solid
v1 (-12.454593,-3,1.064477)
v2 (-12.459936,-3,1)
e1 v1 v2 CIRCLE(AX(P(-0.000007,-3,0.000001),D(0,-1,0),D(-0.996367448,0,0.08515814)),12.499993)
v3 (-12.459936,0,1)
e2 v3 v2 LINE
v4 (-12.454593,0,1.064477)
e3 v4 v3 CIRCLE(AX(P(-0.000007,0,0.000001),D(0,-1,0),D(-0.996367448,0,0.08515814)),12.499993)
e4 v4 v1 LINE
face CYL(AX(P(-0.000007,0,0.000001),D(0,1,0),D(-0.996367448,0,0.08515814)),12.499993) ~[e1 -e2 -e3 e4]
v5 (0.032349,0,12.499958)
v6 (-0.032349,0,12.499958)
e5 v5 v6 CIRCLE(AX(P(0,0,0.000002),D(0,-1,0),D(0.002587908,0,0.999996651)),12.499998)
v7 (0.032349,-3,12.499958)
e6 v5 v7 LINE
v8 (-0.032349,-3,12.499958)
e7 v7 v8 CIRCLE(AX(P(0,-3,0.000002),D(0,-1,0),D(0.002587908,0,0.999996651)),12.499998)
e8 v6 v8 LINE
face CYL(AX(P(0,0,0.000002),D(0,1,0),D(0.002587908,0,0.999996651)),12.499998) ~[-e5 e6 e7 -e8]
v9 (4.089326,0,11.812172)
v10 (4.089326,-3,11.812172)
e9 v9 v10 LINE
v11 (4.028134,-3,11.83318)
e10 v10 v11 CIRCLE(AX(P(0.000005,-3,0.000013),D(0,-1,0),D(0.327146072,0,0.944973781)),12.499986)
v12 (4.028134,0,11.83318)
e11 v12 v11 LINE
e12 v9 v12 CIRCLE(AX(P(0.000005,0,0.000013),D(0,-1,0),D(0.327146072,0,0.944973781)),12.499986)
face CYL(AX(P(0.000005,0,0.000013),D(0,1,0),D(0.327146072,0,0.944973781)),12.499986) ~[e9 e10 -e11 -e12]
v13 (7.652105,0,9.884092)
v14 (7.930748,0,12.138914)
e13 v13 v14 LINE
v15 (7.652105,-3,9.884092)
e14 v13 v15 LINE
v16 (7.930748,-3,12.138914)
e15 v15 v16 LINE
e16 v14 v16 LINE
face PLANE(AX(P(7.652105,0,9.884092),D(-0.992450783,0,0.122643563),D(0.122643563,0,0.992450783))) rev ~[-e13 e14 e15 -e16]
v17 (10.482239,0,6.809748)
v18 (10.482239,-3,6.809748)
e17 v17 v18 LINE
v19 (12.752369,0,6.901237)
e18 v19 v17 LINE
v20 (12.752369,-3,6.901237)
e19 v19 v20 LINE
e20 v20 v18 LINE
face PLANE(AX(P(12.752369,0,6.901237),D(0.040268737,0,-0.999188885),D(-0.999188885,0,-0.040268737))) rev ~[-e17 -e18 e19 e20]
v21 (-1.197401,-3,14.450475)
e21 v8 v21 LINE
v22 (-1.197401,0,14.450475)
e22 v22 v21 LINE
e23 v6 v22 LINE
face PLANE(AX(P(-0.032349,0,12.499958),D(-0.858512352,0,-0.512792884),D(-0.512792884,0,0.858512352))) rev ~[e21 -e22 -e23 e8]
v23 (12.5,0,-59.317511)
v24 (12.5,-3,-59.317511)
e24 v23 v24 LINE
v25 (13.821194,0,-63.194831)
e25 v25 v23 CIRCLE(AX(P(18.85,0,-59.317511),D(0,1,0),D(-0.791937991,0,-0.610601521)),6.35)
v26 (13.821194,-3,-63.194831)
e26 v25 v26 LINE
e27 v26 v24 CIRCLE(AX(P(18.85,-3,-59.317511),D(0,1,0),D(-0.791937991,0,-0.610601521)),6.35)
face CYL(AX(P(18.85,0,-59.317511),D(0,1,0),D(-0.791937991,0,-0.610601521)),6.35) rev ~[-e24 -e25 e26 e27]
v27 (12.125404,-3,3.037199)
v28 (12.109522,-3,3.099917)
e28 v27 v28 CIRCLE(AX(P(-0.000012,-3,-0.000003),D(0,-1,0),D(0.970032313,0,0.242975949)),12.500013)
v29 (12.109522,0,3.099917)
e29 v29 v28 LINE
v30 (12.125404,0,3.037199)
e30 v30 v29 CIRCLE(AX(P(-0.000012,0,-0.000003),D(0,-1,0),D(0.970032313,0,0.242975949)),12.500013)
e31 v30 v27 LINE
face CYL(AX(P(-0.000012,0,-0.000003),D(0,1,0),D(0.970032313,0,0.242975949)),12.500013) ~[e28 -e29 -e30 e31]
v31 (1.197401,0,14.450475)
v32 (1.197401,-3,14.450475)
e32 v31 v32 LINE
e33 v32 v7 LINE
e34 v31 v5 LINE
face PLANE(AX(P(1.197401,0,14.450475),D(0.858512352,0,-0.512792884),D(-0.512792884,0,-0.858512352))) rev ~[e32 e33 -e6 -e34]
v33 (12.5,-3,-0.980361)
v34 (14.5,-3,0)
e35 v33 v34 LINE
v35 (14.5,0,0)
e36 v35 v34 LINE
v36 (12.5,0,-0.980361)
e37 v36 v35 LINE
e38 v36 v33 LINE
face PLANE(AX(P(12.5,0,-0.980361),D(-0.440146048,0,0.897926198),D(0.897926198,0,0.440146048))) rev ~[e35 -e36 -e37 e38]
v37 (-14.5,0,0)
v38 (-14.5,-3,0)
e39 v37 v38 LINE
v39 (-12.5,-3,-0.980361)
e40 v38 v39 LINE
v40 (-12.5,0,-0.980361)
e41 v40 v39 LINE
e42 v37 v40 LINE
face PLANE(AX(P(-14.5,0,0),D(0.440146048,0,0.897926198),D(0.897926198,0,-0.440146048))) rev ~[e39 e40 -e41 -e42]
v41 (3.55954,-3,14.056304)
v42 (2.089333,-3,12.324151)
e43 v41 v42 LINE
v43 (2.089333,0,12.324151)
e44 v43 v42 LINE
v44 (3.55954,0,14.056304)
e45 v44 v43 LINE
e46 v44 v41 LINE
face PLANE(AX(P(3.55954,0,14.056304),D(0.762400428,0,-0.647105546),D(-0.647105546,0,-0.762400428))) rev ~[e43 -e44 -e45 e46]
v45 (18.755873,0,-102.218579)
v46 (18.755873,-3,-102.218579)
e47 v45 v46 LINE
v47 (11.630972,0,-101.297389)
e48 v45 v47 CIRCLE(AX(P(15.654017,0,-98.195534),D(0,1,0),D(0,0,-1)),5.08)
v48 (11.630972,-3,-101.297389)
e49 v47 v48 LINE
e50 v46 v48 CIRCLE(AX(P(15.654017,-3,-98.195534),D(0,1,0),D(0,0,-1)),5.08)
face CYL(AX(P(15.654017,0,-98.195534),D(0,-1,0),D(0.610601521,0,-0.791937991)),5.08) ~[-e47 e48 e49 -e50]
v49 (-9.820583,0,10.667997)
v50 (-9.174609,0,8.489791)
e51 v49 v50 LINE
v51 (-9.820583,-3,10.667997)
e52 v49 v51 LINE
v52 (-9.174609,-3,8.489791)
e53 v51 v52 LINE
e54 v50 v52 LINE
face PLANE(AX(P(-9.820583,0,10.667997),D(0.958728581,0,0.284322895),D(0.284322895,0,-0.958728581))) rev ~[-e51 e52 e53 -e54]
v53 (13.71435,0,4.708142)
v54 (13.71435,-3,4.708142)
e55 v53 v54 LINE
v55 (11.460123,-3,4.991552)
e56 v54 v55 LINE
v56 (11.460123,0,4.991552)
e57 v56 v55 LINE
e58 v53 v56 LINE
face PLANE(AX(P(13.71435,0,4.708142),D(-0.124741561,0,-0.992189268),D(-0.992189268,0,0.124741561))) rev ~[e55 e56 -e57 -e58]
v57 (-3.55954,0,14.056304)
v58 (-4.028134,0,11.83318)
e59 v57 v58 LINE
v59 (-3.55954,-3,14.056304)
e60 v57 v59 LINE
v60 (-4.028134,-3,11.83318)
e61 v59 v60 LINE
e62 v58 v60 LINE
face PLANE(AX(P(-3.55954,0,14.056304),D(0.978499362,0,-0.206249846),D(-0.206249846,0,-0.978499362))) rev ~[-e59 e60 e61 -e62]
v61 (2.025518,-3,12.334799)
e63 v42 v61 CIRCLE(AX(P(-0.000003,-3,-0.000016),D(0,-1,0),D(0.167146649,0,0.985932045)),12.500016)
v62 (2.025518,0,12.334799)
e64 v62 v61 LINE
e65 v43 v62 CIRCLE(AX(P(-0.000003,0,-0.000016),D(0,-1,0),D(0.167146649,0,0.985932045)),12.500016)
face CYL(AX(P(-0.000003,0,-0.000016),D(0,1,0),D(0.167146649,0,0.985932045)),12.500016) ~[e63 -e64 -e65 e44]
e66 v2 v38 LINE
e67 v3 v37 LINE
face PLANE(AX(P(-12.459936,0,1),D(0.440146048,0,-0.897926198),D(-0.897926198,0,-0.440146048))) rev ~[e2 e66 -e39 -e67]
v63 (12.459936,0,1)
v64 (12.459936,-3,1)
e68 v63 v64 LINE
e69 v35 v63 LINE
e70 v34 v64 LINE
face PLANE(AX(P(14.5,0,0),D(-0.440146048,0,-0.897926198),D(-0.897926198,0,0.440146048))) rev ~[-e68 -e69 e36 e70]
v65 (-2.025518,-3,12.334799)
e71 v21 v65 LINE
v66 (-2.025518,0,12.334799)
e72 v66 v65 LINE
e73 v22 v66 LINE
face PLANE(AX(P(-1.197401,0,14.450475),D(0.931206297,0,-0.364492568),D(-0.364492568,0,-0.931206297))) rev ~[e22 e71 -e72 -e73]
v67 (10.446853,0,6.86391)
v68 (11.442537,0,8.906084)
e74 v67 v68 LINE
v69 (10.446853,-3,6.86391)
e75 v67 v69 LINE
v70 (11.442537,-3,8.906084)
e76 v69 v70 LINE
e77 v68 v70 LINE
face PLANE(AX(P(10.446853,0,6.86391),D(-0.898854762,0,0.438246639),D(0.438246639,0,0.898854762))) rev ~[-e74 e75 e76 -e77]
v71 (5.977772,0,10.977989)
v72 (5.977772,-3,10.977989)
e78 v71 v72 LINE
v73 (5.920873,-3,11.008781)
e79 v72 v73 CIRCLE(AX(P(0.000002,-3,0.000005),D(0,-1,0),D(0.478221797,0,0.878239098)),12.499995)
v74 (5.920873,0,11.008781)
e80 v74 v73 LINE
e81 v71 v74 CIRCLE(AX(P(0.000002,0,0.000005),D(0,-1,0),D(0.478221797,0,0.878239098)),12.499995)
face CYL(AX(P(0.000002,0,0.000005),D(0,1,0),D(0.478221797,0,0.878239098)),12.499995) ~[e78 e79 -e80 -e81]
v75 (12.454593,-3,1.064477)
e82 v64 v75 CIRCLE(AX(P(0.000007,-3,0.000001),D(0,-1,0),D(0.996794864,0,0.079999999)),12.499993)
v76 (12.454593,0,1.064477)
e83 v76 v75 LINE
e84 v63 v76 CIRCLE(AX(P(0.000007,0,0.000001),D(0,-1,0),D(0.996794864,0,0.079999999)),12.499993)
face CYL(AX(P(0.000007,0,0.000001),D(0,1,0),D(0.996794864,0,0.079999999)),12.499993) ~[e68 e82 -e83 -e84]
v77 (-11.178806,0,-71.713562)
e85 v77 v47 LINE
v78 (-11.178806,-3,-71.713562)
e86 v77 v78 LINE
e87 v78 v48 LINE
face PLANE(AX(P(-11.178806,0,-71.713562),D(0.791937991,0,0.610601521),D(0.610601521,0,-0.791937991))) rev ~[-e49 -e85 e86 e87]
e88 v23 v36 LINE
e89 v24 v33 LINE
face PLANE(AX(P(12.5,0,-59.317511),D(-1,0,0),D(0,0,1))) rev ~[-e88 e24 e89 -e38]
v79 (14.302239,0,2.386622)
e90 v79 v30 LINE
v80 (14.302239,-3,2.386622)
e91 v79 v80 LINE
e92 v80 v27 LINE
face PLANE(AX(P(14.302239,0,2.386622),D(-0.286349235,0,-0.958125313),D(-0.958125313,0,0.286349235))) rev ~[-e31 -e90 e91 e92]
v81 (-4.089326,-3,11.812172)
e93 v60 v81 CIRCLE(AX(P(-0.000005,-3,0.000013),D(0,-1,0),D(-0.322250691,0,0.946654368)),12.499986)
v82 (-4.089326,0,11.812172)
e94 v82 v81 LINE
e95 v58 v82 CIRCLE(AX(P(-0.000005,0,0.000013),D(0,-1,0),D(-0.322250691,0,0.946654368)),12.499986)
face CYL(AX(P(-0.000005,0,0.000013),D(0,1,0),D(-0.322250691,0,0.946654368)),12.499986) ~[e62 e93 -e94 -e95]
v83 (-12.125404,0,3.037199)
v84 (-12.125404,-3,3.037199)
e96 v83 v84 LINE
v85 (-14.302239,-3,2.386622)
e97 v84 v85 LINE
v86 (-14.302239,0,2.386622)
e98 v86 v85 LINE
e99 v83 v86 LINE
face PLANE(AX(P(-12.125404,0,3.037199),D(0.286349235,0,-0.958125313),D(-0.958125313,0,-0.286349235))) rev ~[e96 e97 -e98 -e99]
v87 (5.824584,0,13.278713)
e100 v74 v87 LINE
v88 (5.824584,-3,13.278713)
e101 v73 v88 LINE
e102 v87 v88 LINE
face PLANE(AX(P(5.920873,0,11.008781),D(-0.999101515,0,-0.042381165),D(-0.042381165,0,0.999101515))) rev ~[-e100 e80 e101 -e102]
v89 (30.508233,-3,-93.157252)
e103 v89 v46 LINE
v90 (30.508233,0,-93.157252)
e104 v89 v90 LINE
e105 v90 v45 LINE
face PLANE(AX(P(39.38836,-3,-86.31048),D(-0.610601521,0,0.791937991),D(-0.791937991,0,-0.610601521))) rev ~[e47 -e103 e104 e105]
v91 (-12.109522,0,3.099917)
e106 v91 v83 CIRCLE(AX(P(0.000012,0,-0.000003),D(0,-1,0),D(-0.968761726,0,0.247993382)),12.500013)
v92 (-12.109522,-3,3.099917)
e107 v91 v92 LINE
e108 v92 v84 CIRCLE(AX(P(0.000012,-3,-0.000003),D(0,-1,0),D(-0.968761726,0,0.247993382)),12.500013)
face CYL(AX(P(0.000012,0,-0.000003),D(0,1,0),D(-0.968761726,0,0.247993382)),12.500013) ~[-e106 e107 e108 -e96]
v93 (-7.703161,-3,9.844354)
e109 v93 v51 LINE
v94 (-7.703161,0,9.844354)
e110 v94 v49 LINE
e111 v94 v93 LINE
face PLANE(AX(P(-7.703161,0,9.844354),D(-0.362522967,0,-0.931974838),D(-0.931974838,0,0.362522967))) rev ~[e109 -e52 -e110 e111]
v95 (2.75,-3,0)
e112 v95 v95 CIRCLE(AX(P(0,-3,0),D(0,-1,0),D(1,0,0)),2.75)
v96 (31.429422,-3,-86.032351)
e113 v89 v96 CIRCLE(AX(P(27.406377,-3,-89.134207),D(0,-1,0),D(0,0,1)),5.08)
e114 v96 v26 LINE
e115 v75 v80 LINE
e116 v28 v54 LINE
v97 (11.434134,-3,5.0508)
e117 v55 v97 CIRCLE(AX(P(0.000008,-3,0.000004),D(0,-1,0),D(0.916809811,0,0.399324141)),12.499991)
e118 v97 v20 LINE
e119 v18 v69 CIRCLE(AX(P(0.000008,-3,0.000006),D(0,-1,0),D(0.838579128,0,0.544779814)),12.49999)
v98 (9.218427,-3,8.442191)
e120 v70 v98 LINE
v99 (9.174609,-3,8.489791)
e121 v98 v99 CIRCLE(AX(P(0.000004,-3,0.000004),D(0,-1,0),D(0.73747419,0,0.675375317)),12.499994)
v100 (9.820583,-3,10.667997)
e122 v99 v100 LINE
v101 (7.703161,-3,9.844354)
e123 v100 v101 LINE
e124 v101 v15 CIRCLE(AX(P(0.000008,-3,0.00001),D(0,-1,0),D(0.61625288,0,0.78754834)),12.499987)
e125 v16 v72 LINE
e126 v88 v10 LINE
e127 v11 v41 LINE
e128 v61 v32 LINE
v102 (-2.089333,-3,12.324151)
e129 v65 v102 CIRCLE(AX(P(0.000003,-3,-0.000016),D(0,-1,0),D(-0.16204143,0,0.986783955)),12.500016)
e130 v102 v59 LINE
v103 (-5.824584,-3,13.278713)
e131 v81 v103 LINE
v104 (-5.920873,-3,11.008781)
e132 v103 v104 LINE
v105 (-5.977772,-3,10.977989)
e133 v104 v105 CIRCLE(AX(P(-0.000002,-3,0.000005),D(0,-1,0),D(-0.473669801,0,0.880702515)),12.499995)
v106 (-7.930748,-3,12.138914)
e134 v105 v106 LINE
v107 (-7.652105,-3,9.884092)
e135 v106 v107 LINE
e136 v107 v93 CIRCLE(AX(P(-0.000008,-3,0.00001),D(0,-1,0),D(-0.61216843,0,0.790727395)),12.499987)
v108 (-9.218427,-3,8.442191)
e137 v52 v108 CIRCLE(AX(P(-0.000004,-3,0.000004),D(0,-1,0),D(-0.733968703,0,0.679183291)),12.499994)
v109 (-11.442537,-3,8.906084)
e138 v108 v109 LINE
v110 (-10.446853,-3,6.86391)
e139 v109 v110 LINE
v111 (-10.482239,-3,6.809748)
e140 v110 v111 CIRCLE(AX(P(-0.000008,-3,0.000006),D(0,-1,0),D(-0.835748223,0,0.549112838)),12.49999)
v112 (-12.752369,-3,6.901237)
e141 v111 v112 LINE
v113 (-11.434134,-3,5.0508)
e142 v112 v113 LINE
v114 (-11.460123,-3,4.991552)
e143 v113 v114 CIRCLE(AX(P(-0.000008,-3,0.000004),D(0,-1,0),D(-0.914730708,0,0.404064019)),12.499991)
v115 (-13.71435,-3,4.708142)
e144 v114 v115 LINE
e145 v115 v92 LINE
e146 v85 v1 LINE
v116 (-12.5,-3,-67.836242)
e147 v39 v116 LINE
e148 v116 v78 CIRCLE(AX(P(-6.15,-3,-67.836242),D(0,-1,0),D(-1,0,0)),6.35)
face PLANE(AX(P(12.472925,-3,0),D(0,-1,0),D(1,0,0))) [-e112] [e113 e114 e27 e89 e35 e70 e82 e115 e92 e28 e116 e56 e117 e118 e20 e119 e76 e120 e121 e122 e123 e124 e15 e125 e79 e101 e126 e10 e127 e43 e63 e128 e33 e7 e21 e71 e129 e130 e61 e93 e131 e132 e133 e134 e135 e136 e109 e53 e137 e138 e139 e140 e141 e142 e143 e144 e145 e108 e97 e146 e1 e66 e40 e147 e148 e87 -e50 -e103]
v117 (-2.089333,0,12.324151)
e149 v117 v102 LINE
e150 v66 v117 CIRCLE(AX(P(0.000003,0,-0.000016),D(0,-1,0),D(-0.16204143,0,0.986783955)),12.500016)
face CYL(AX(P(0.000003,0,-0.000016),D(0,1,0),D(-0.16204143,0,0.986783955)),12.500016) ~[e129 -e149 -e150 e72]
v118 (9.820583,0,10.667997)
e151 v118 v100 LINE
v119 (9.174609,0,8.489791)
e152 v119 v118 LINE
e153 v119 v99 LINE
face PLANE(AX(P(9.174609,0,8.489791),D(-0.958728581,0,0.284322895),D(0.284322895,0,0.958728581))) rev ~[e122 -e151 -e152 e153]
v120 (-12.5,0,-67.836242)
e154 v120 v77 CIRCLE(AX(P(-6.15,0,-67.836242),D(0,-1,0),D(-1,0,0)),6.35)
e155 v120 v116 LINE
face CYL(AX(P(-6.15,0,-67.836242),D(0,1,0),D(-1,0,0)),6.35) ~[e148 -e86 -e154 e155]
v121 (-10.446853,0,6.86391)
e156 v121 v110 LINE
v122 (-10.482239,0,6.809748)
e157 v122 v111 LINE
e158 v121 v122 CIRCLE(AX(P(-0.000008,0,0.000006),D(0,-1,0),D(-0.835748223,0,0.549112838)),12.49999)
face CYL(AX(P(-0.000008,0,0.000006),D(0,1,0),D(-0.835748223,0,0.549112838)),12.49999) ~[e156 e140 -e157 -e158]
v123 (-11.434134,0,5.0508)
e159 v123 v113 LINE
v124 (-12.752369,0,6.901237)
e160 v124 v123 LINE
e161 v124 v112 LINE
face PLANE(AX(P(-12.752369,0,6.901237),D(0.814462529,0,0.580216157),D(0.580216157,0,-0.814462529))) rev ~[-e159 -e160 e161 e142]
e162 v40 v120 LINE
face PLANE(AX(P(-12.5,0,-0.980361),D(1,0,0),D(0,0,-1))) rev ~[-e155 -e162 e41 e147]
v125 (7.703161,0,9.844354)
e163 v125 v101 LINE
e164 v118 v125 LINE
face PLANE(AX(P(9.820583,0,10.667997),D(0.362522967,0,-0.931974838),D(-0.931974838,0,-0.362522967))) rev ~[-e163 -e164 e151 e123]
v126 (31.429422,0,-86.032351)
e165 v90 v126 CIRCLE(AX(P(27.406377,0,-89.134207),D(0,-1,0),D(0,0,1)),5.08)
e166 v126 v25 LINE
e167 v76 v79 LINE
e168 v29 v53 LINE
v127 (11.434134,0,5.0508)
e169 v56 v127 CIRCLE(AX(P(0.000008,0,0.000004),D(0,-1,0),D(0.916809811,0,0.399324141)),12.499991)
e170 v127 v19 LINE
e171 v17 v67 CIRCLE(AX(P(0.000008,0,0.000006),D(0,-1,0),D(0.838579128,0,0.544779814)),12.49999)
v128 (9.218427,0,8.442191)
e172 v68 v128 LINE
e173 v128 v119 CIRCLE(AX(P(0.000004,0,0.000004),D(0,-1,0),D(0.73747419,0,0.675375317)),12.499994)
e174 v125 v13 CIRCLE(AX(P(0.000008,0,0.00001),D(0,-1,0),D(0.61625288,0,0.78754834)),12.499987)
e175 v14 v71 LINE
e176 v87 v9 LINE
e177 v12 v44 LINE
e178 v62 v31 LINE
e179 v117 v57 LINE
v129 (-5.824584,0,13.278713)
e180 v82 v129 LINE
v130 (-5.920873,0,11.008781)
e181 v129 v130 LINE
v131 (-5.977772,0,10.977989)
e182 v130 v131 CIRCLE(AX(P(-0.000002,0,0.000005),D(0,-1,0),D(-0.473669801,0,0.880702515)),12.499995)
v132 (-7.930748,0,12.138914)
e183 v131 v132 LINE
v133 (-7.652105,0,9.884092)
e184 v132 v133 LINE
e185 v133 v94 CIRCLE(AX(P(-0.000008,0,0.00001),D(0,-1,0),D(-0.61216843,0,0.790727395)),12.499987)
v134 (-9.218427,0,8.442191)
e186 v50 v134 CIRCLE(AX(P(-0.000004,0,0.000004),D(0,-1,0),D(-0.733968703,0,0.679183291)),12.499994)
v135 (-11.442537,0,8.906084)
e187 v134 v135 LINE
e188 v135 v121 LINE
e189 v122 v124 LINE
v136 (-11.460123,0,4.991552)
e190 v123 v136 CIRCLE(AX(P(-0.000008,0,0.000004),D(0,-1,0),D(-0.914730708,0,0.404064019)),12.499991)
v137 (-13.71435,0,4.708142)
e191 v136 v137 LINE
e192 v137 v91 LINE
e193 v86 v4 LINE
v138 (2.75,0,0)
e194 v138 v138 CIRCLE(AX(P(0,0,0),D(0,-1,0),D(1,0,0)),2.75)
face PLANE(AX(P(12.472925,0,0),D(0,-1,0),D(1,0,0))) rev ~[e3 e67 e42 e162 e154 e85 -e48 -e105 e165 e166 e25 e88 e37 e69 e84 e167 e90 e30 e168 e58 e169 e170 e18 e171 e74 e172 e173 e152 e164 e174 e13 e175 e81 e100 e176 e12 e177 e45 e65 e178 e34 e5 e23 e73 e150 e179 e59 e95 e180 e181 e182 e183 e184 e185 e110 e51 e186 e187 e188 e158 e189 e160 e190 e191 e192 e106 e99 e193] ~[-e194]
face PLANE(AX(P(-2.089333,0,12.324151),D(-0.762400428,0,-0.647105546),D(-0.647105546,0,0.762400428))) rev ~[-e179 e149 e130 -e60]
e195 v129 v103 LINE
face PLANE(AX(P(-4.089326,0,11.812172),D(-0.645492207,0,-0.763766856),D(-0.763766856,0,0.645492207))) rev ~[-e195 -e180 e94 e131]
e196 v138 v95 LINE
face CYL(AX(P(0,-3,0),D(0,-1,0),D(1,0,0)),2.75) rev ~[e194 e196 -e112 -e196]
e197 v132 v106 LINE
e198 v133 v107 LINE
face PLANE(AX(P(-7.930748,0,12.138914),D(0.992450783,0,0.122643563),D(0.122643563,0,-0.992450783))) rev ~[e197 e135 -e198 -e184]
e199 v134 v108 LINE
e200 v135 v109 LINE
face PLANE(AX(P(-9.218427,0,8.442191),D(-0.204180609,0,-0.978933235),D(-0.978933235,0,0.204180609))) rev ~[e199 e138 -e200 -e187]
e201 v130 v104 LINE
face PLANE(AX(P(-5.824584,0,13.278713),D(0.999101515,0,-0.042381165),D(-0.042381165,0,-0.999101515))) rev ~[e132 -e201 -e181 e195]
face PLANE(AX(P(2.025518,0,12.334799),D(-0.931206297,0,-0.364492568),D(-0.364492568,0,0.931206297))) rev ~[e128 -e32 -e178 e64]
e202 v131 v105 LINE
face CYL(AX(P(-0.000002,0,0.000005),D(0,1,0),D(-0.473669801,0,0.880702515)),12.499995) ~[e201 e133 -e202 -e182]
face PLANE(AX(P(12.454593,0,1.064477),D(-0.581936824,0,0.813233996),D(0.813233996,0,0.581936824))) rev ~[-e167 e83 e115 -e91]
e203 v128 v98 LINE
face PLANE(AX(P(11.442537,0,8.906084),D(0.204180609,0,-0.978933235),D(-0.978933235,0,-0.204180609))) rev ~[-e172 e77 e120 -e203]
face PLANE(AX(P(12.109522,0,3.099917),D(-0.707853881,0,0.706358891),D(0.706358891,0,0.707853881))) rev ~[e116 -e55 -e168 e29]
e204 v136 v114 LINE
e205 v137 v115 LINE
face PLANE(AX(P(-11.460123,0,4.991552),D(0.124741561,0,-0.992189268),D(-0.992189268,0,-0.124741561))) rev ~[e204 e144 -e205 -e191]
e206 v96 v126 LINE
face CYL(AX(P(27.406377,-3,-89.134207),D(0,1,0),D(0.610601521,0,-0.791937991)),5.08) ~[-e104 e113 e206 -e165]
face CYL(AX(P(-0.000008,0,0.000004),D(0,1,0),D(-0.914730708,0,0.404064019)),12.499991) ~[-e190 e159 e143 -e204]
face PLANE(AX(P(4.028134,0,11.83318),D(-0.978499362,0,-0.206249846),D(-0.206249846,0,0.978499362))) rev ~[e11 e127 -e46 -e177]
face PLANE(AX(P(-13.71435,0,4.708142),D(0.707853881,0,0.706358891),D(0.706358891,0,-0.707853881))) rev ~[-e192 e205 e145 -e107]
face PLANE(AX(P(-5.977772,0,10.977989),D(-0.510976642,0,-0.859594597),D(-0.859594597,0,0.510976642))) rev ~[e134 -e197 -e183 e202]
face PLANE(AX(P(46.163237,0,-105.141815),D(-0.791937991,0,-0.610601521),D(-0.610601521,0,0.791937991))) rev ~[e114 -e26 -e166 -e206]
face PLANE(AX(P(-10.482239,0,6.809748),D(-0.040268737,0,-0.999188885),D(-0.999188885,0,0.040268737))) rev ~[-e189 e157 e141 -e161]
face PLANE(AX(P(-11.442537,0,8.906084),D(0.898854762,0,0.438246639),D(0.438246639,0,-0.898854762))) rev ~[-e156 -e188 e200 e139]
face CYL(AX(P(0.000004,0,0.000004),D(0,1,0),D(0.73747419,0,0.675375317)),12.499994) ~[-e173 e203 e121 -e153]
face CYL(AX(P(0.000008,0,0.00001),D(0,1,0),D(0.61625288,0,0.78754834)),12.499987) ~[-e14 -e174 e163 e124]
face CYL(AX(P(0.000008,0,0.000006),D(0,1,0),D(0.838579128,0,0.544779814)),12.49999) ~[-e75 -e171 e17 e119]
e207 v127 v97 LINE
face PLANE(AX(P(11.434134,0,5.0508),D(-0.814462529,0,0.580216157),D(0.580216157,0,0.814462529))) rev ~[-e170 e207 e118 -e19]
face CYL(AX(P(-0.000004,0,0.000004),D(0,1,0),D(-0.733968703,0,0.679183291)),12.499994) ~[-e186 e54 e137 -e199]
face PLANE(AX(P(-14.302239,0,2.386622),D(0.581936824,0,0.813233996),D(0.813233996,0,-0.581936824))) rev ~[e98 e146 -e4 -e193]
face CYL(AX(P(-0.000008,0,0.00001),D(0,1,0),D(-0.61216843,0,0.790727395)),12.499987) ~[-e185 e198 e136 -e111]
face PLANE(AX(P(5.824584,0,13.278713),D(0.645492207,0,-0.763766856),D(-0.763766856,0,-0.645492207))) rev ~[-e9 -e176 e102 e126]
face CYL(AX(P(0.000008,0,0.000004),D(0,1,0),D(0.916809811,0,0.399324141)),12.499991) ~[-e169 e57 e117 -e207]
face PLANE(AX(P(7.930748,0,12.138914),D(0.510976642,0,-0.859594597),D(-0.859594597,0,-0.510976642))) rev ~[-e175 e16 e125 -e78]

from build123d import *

# Parameters (mm, degrees)
F0_R     = 1.5
F1_DEPTH = 3
F3_R     = 2.75
F4_DEPTH = 381
F6_DEPTH = 381
F7_R     = 5.08
F8_R     = 5.08


with BuildPart() as f1:
    # F0 (on Front) → F1 (new body)
    with BuildSketch(Plane.XZ):
        with BuildLine():
            ThreePointArc((12.4599357944, -1), (12.4899799325, -0.5004011242), (12.5, 0))
            ThreePointArc((12.5, 0), (12.4899799325, 0.5004011242), (12.4599357944, 1))
            Line((12.4599357944, 1), (12.4599357944, -1))
        make_face()
        with BuildLine():
            Line((12.5, -0.9803613016), (12.5, 0))
            ThreePointArc((12.5, 0), (12.4899799325, -0.5004011242), (12.4599357944, -1))
            Line((12.4599357944, -1), (12.5, -0.9803613016))
        make_face()
        Polygon((14.5, 0), (12.5, 0), (12.5, -0.9803613016), align=None)
        with BuildLine():
            ThreePointArc((12.4599357944, 1), (12.4899799325, 0.5004011242), (12.5, 0))
            Line((12.5, 0), (14.5, 0))
            Line((14.5, 0), (12.4599357944, 1))
        make_face()
        with BuildLine():
            Line((12.4599357944, -1), (12.4599357944, 1))
            ThreePointArc((12.4599357944, 1), (12.4573061626, 1.0322418184), (12.4545931007, 1.0644767236))
            Line((12.4545931007, 1.0644767236), (12.1254039202, 3.0371993304))
            ThreePointArc((12.1254039202, 3.0371993304), (12.1175033242, 3.0685685893), (12.109521574, 3.0999172971))
            Line((12.109521574, 3.0999172971), (11.4601226356, 4.9915517805))
            ThreePointArc((11.4601226356, 4.9915517805), (11.4471665832, 5.0211928082), (11.4341338659, 5.0508002075))
            Line((11.4341338659, 5.0508002075), (10.4822390798, 6.8097477099))
            ThreePointArc((10.4822390798, 6.8097477099), (10.4645809783, 6.8368519765), (10.4468527925, 6.8639104548))
            Line((10.4468527925, 6.8639104548), (9.2184273671, 8.4421914736))
            ThreePointArc((9.2184273671, 8.4421914736), (9.1965488834, 8.4660196453), (9.1746088078, 8.4897911177))
            Line((9.1746088078, 8.4897911177), (7.7031609865, 9.844354261))
            ThreePointArc((7.7031609865, 9.844354261), (7.6776589086, 9.8642563675), (7.6521054113, 9.8840924102))
            Line((7.6521054113, 9.8840924102), (5.9777724548, 10.9779887265))
            ThreePointArc((5.9777724548, 10.9779887265), (5.949342413, 10.9934218901), (5.9208725267, 11.0087814277))
            Line((5.9208725267, 11.0087814277), (4.0893258734, 11.812172277))
            ThreePointArc((4.0893258734, 11.812172277), (4.0587433651, 11.8227155213), (4.0281336742, 11.8331795855))
            Line((4.0281336742, 11.8331795855), (2.0893331423, 12.3241505598))
            ThreePointArc((2.0893331423, 12.3241505598), (2.0574323785, 12.3295162925), (2.0255178355, 12.3347994511))
            Line((2.0255178355, 12.3347994511), (0.0323488495, 12.499958142))
            ThreePointArc((0.0323488495, 12.499958142), (0, 12.5), (-0.0323488495, 12.499958142))
            Line((-0.0323488495, 12.499958142), (-2.0255178355, 12.3347994511))
            ThreePointArc((-2.0255178355, 12.3347994511), (-2.0574323785, 12.3295162925), (-2.0893331423, 12.3241505598))
            Line((-2.0893331423, 12.3241505598), (-4.0281336742, 11.8331795855))
            ThreePointArc((-4.0281336742, 11.8331795855), (-4.0587433651, 11.8227155213), (-4.0893258734, 11.812172277))
            Line((-4.0893258734, 11.812172277), (-5.9208725267, 11.0087814277))
            ThreePointArc((-5.9208725267, 11.0087814277), (-5.949342413, 10.9934218901), (-5.9777724548, 10.9779887265))
            Line((-5.9777724548, 10.9779887265), (-7.6521054113, 9.8840924102))
            ThreePointArc((-7.6521054113, 9.8840924102), (-7.6776589086, 9.8642563675), (-7.7031609865, 9.844354261))
            Line((-7.7031609865, 9.844354261), (-9.1746088078, 8.4897911177))
            ThreePointArc((-9.1746088078, 8.4897911177), (-9.1965488834, 8.4660196453), (-9.2184273671, 8.4421914736))
            Line((-9.2184273671, 8.4421914736), (-10.4468527925, 6.8639104548))
            ThreePointArc((-10.4468527925, 6.8639104548), (-10.4645809783, 6.8368519765), (-10.4822390798, 6.8097477099))
            Line((-10.4822390798, 6.8097477099), (-11.4341338659, 5.0508002075))
            ThreePointArc((-11.4341338659, 5.0508002075), (-11.4471665832, 5.0211928082), (-11.4601226356, 4.9915517805))
            Line((-11.4601226356, 4.9915517805), (-12.109521574, 3.0999172971))
            ThreePointArc((-12.109521574, 3.0999172971), (-12.1175033242, 3.0685685893), (-12.1254039202, 3.0371993304))
            Line((-12.1254039202, 3.0371993304), (-12.4545931007, 1.0644767236))
            ThreePointArc((-12.4545931007, 1.0644767236), (-12.4573061626, 1.0322418184), (-12.4599357944, 1))
            Line((-12.4599357944, 1), (-12.4599357944, -1))
            ThreePointArc((-12.4599357944, -1), (0, -12.5), (12.4599357944, -1))
        make_face()
        Circle(F0_R, mode=Mode.SUBTRACT)
        with BuildLine():
            Line((12.5, -0.9803613016), (12.4599357944, -1))
            ThreePointArc((12.4599357944, -1), (0, -12.5), (-12.4599357944, -1))
            Line((-12.4599357944, -1), (-12.5, -0.9803613016))
            Line((-12.5, -0.9803613016), (-12.5, -67.8362422814))
            ThreePointArc((-12.5, -67.8362422814), (-12.1606330639, -69.8843609721), (-11.1788062454, -71.7135619415))
            Line((-11.1788062454, -71.7135619415), (26.3647868293, -120.4068531523))
            ThreePointArc((26.3647868293, -120.4068531523), (30.5793691017, -122.827115514), (35.2709127347, -121.5583397375))
            Line((35.2709127347, -121.5583397375), (45.0117500289, -114.0479410258))
            ThreePointArc((45.0117500289, -114.0479410258), (47.4320123906, -109.8333587534), (46.1632366141, -105.1418151204))
            Line((46.1632366141, -105.1418151204), (13.8211937546, -63.194830766))
            ThreePointArc((13.8211937546, -63.194830766), (12.8393669361, -61.3656297965), (12.5, -59.3175111059))
            Line((12.5, -59.3175111059), (12.5, -0.9803613016))
        make_face()
        with BuildLine():
            Line((12.1254039202, 3.0371993304), (12.4545931007, 1.0644767236))
            ThreePointArc((12.4545931007, 1.0644767236), (12.4019962037, 1.5622068245), (12.3295162925, 2.0574323785))
            ThreePointArc((12.3295162925, 2.0574323785), (12.2372695677, 2.5493594347), (12.1254039202, 3.0371993304))
        make_face()
        with BuildLine():
            ThreePointArc((12.3295162925, 2.0574323785), (12.4019962037, 1.5622068245), (12.4545931007, 1.0644767236))
            Line((12.4545931007, 1.0644767236), (14.3022388993, 2.3866215591))
            Line((14.3022388993, 2.3866215591), (12.3295162925, 2.0574323785))
        make_face()
        with BuildLine():
            Line((-12.5, -0.9803613016), (-12.4599357944, -1))
            ThreePointArc((-12.4599357944, -1), (-12.4899799325, -0.5004011242), (-12.5, 0))
            Line((-12.5, 0), (-12.5, -0.9803613016))
        make_face()
        with BuildLine():
            ThreePointArc((-12.5, 0), (-12.4899799325, -0.5004011242), (-12.4599357944, -1))
            Line((-12.4599357944, -1), (-12.4599357944, 1))
            ThreePointArc((-12.4599357944, 1), (-12.4899799325, 0.5004011242), (-12.5, 0))
        make_face()
        with BuildLine():
            ThreePointArc((12.1254039202, 3.0371993304), (12.2372695677, 2.5493594347), (12.3295162925, 2.0574323785))
            Line((12.3295162925, 2.0574323785), (14.3022388993, 2.3866215591))
            Line((14.3022388993, 2.3866215591), (12.1254039202, 3.0371993304))
        make_face()
        with BuildLine():
            Line((-14.5, 0), (-12.5, 0))
            ThreePointArc((-12.5, 0), (-12.4899799325, 0.5004011242), (-12.4599357944, 1))
            Line((-12.4599357944, 1), (-14.5, 0))
        make_face()
        Polygon((-12.5, -0.9803613016), (-12.5, 0), (-14.5, 0), align=None)
        with BuildLine():
            Line((11.4601226356, 4.9915517805), (12.109521574, 3.0999172971))
            ThreePointArc((12.109521574, 3.0999172971), (11.9757183481, 3.5822018434), (11.8227155213, 4.0587433651))
            ThreePointArc((11.8227155213, 4.0587433651), (11.6507583892, 4.5287778655), (11.4601226356, 4.9915517805))
        make_face()
        with BuildLine():
            ThreePointArc((11.8227155213, 4.0587433651), (11.9757183481, 3.5822018434), (12.109521574, 3.0999172971))
            Line((12.109521574, 3.0999172971), (13.7143500047, 4.7081423035))
            Line((13.7143500047, 4.7081423035), (11.8227155213, 4.0587433651))
        make_face()
        with BuildLine():
            Line((-14.3022388993, 2.3866215591), (-12.4545931007, 1.0644767236))
            ThreePointArc((-12.4545931007, 1.0644767236), (-12.4019962037, 1.5622068245), (-12.3295162925, 2.0574323785))
            Line((-12.3295162925, 2.0574323785), (-14.3022388993, 2.3866215591))
        make_face()
        with BuildLine():
            ThreePointArc((-12.3295162925, 2.0574323785), (-12.4019962037, 1.5622068245), (-12.4545931007, 1.0644767236))
            Line((-12.4545931007, 1.0644767236), (-12.1254039202, 3.0371993304))
            ThreePointArc((-12.1254039202, 3.0371993304), (-12.2372695677, 2.5493594347), (-12.3295162925, 2.0574323785))
        make_face()
        with BuildLine():
            ThreePointArc((11.4601226356, 4.9915517805), (11.6507583892, 4.5287778655), (11.8227155213, 4.0587433651))
            Line((11.8227155213, 4.0587433651), (13.7143500047, 4.7081423035))
            Line((13.7143500047, 4.7081423035), (11.4601226356, 4.9915517805))
        make_face()
        with BuildLine():
            Line((-14.3022388993, 2.3866215591), (-12.3295162925, 2.0574323785))
            ThreePointArc((-12.3295162925, 2.0574323785), (-12.2372695677, 2.5493594347), (-12.1254039202, 3.0371993304))
            Line((-12.1254039202, 3.0371993304), (-14.3022388993, 2.3866215591))
        make_face()
        with BuildLine():
            Line((10.4822390798, 6.8097477099), (11.4341338659, 5.0508002075))
            ThreePointArc((11.4341338659, 5.0508002075), (11.2227741143, 5.5044837341), (10.9934218901, 5.949342413))
            ThreePointArc((10.9934218901, 5.949342413), (10.7464448932, 6.3846630418), (10.4822390798, 6.8097477099))
        make_face()
        with BuildLine():
            ThreePointArc((10.9934218901, 5.949342413), (11.2227741143, 5.5044837341), (11.4341338659, 5.0508002075))
            Line((11.4341338659, 5.0508002075), (12.7523693925, 6.901237199))
            Line((12.7523693925, 6.901237199), (10.9934218901, 5.949342413))
        make_face()
        with BuildLine():
            Line((-13.7143500047, 4.7081423035), (-12.109521574, 3.0999172971))
            ThreePointArc((-12.109521574, 3.0999172971), (-11.9757183481, 3.5822018434), (-11.8227155213, 4.0587433651))
            Line((-11.8227155213, 4.0587433651), (-13.7143500047, 4.7081423035))
        make_face()
        with BuildLine():
            ThreePointArc((-11.8227155213, 4.0587433651), (-11.9757183481, 3.5822018434), (-12.109521574, 3.0999172971))
            Line((-12.109521574, 3.0999172971), (-11.4601226356, 4.9915517805))
            ThreePointArc((-11.4601226356, 4.9915517805), (-11.6507583892, 4.5287778655), (-11.8227155213, 4.0587433651))
        make_face()
        with BuildLine():
            ThreePointArc((10.4822390798, 6.8097477099), (10.7464448932, 6.3846630418), (10.9934218901, 5.949342413))
            Line((10.9934218901, 5.949342413), (12.7523693925, 6.901237199))
            Line((12.7523693925, 6.901237199), (10.4822390798, 6.8097477099))
        make_face()
        with BuildLine():
            Line((-13.7143500047, 4.7081423035), (-11.8227155213, 4.0587433651))
            ThreePointArc((-11.8227155213, 4.0587433651), (-11.6507583892, 4.5287778655), (-11.4601226356, 4.9915517805))
            Line((-11.4601226356, 4.9915517805), (-13.7143500047, 4.7081423035))
        make_face()
        with BuildLine():
            Line((9.2184273671, 8.4421914736), (10.4468527925, 6.8639104548))
            ThreePointArc((10.4468527925, 6.8639104548), (10.1637018583, 7.2766176577), (9.8642563675, 7.6776589086))
            ThreePointArc((9.8642563675, 7.6776589086), (9.5489963943, 8.0663912539), (9.2184273671, 8.4421914736))
        make_face()
        with BuildLine():
            ThreePointArc((9.8642563675, 7.6776589086), (10.1637018583, 7.2766176577), (10.4468527925, 6.8639104548))
            Line((10.4468527925, 6.8639104548), (11.4425373862, 8.906084334))
            Line((11.4425373862, 8.906084334), (9.8642563675, 7.6776589086))
        make_face()
        with BuildLine():
            Line((-12.7523693925, 6.901237199), (-11.4341338659, 5.0508002075))
            ThreePointArc((-11.4341338659, 5.0508002075), (-11.2227741143, 5.5044837341), (-10.9934218901, 5.949342413))
            Line((-10.9934218901, 5.949342413), (-12.7523693925, 6.901237199))
        make_face()
        with BuildLine():
            ThreePointArc((-10.9934218901, 5.949342413), (-11.2227741143, 5.5044837341), (-11.4341338659, 5.0508002075))
            Line((-11.4341338659, 5.0508002075), (-10.4822390798, 6.8097477099))
            ThreePointArc((-10.4822390798, 6.8097477099), (-10.7464448932, 6.3846630418), (-10.9934218901, 5.949342413))
        make_face()
        with BuildLine():
            ThreePointArc((9.2184273671, 8.4421914736), (9.5489963943, 8.0663912539), (9.8642563675, 7.6776589086))
            Line((9.8642563675, 7.6776589086), (11.4425373862, 8.906084334))
            Line((11.4425373862, 8.906084334), (9.2184273671, 8.4421914736))
        make_face()
        with BuildLine():
            Line((-12.7523693925, 6.901237199), (-10.9934218901, 5.949342413))
            ThreePointArc((-10.9934218901, 5.949342413), (-10.7464448932, 6.3846630418), (-10.4822390798, 6.8097477099))
            Line((-10.4822390798, 6.8097477099), (-12.7523693925, 6.901237199))
        make_face()
        with BuildLine():
            Line((7.7031609865, 9.844354261), (9.1746088078, 8.4897911177))
            ThreePointArc((9.1746088078, 8.4897911177), (8.8273903103, 8.8502644203), (8.4660196453, 9.1965488834))
            ThreePointArc((8.4660196453, 9.1965488834), (8.0910761662, 9.5280893401), (7.7031609865, 9.844354261))
        make_face()
        with BuildLine():
            ThreePointArc((8.4660196453, 9.1965488834), (8.8273903103, 8.8502644203), (9.1746088078, 8.4897911177))
            Line((9.1746088078, 8.4897911177), (9.8205827886, 10.6679967048))
            Line((9.8205827886, 10.6679967048), (8.4660196453, 9.1965488834))
        make_face()
        with BuildLine():
            Line((-11.4425373862, 8.906084334), (-10.4468527925, 6.8639104548))
            ThreePointArc((-10.4468527925, 6.8639104548), (-10.1637018583, 7.2766176577), (-9.8642563675, 7.6776589086))
            Line((-9.8642563675, 7.6776589086), (-11.4425373862, 8.906084334))
        make_face()
        with BuildLine():
            ThreePointArc((-9.8642563675, 7.6776589086), (-10.1637018583, 7.2766176577), (-10.4468527925, 6.8639104548))
            Line((-10.4468527925, 6.8639104548), (-9.2184273671, 8.4421914736))
            ThreePointArc((-9.2184273671, 8.4421914736), (-9.5489963943, 8.0663912539), (-9.8642563675, 7.6776589086))
        make_face()
        with BuildLine():
            ThreePointArc((7.7031609865, 9.844354261), (8.0910761662, 9.5280893401), (8.4660196453, 9.1965488834))
            Line((8.4660196453, 9.1965488834), (9.8205827886, 10.6679967048))
            Line((9.8205827886, 10.6679967048), (7.7031609865, 9.844354261))
        make_face()
        with BuildLine():
            Line((-11.4425373862, 8.906084334), (-9.8642563675, 7.6776589086))
            ThreePointArc((-9.8642563675, 7.6776589086), (-9.5489963943, 8.0663912539), (-9.2184273671, 8.4421914736))
            Line((-9.2184273671, 8.4421914736), (-11.4425373862, 8.906084334))
        make_face()
        with BuildLine():
            Line((5.9777724548, 10.9779887265), (7.6521054113, 9.8840924102))
            ThreePointArc((7.6521054113, 9.8840924102), (7.250290566, 10.1824990405), (6.8368519765, 10.4645809783))
            ThreePointArc((6.8368519765, 10.4645809783), (6.4124524722, 10.7298859869), (5.9777724548, 10.9779887265))
        make_face()
        with BuildLine():
            ThreePointArc((6.8368519765, 10.4645809783), (7.250290566, 10.1824990405), (7.6521054113, 9.8840924102))
            Line((7.6521054113, 9.8840924102), (7.9307482928, 12.1389139348))
            Line((7.9307482928, 12.1389139348), (6.8368519765, 10.4645809783))
        make_face()
        with BuildLine():
            Line((-9.8205827886, 10.6679967048), (-9.1746088078, 8.4897911177))
            ThreePointArc((-9.1746088078, 8.4897911177), (-8.8273903103, 8.8502644203), (-8.4660196453, 9.1965488834))
            Line((-8.4660196453, 9.1965488834), (-9.8205827886, 10.6679967048))
        make_face()
        with BuildLine():
            ThreePointArc((-8.4660196453, 9.1965488834), (-8.8273903103, 8.8502644203), (-9.1746088078, 8.4897911177))
            Line((-9.1746088078, 8.4897911177), (-7.7031609865, 9.844354261))
            ThreePointArc((-7.7031609865, 9.844354261), (-8.0910761662, 9.5280893401), (-8.4660196453, 9.1965488834))
        make_face()
        with BuildLine():
            ThreePointArc((5.9777724548, 10.9779887265), (6.4124524722, 10.7298859869), (6.8368519765, 10.4645809783))
            Line((6.8368519765, 10.4645809783), (7.9307482928, 12.1389139348))
            Line((7.9307482928, 12.1389139348), (5.9777724548, 10.9779887265))
        make_face()
        with BuildLine():
            Line((-9.8205827886, 10.6679967048), (-8.4660196453, 9.1965488834))
            ThreePointArc((-8.4660196453, 9.1965488834), (-8.0910761662, 9.5280893401), (-7.7031609865, 9.844354261))
            Line((-7.7031609865, 9.844354261), (-9.8205827886, 10.6679967048))
        make_face()
        with BuildLine():
            Line((4.0893258734, 11.812172277), (5.9208725267, 11.0087814277))
            ThreePointArc((5.9208725267, 11.0087814277), (5.4754217951, 11.2369816306), (5.0211928082, 11.4471665832))
            ThreePointArc((5.0211928082, 11.4471665832), (4.5589137907, 11.6389993148), (4.0893258734, 11.812172277))
        make_face()
        with BuildLine():
            ThreePointArc((5.0211928082, 11.4471665832), (5.4754217951, 11.2369816306), (5.9208725267, 11.0087814277))
            Line((5.9208725267, 11.0087814277), (5.8245836575, 13.2787132365))
            Line((5.8245836575, 13.2787132365), (5.0211928082, 11.4471665832))
        make_face()
        with BuildLine():
            Line((-7.9307482928, 12.1389139348), (-7.6521054113, 9.8840924102))
            ThreePointArc((-7.6521054113, 9.8840924102), (-7.250290566, 10.1824990405), (-6.8368519765, 10.4645809783))
            Line((-6.8368519765, 10.4645809783), (-7.9307482928, 12.1389139348))
        make_face()
        with BuildLine():
            ThreePointArc((-6.8368519765, 10.4645809783), (-7.250290566, 10.1824990405), (-7.6521054113, 9.8840924102))
            Line((-7.6521054113, 9.8840924102), (-5.9777724548, 10.9779887265))
            ThreePointArc((-5.9777724548, 10.9779887265), (-6.4124524722, 10.7298859869), (-6.8368519765, 10.4645809783))
        make_face()
        with BuildLine():
            ThreePointArc((4.0893258734, 11.812172277), (4.5589137907, 11.6389993148), (5.0211928082, 11.4471665832))
            Line((5.0211928082, 11.4471665832), (5.8245836575, 13.2787132365))
            Line((5.8245836575, 13.2787132365), (4.0893258734, 11.812172277))
        make_face()
        with BuildLine():
            Line((-7.9307482928, 12.1389139348), (-6.8368519765, 10.4645809783))
            ThreePointArc((-6.8368519765, 10.4645809783), (-6.4124524722, 10.7298859869), (-5.9777724548, 10.9779887265))
            Line((-5.9777724548, 10.9779887265), (-7.9307482928, 12.1389139348))
        make_face()
        with BuildLine():
            Line((2.0893331423, 12.3241505598), (4.0281336742, 11.8331795855))
            ThreePointArc((4.0281336742, 11.8331795855), (3.551197791, 11.9849486544), (3.0685685893, 12.1175033242))
            ThreePointArc((3.0685685893, 12.1175033242), (2.5810198252, 12.2306310819), (2.0893331423, 12.3241505598))
        make_face()
        with BuildLine():
            ThreePointArc((3.0685685893, 12.1175033242), (3.551197791, 11.9849486544), (4.0281336742, 11.8331795855))
            Line((4.0281336742, 11.8331795855), (3.5595395635, 14.0563038561))
            Line((3.5595395635, 14.0563038561), (3.0685685893, 12.1175033242))
        make_face()
        with BuildLine():
            Line((-5.8245836575, 13.2787132365), (-5.9208725267, 11.0087814277))
            ThreePointArc((-5.9208725267, 11.0087814277), (-5.4754217951, 11.2369816306), (-5.0211928082, 11.4471665832))
            Line((-5.0211928082, 11.4471665832), (-5.8245836575, 13.2787132365))
        make_face()
        with BuildLine():
            ThreePointArc((-5.0211928082, 11.4471665832), (-5.4754217951, 11.2369816306), (-5.9208725267, 11.0087814277))
            Line((-5.9208725267, 11.0087814277), (-4.0893258734, 11.812172277))
            ThreePointArc((-4.0893258734, 11.812172277), (-4.5589137907, 11.6389993148), (-5.0211928082, 11.4471665832))
        make_face()
        with BuildLine():
            ThreePointArc((2.0893331423, 12.3241505598), (2.5810198252, 12.2306310819), (3.0685685893, 12.1175033242))
            Line((3.0685685893, 12.1175033242), (3.5595395635, 14.0563038561))
            Line((3.5595395635, 14.0563038561), (2.0893331423, 12.3241505598))
        make_face()
        with BuildLine():
            Line((-5.8245836575, 13.2787132365), (-5.0211928082, 11.4471665832))
            ThreePointArc((-5.0211928082, 11.4471665832), (-4.5589137907, 11.6389993148), (-4.0893258734, 11.812172277))
            Line((-4.0893258734, 11.812172277), (-5.8245836575, 13.2787132365))
        make_face()
        with BuildLine():
            Line((0.0323488495, 12.499958142), (2.0255178355, 12.3347994511))
            ThreePointArc((2.0255178355, 12.3347994511), (1.5301063685, 12.4059975214), (1.0322418184, 12.4573061626))
            ThreePointArc((1.0322418184, 12.4573061626), (0.5327223671, 12.488643116), (0.0323488495, 12.499958142))
        make_face()
        with BuildLine():
            ThreePointArc((1.0322418184, 12.4573061626), (1.5301063685, 12.4059975214), (2.0255178355, 12.3347994511))
            Line((2.0255178355, 12.3347994511), (1.1974005093, 14.4504751486))
            Line((1.1974005093, 14.4504751486), (1.0322418184, 12.4573061626))
        make_face()
        with BuildLine():
            Line((-3.5595395635, 14.0563038561), (-4.0281336742, 11.8331795855))
            ThreePointArc((-4.0281336742, 11.8331795855), (-3.551197791, 11.9849486544), (-3.0685685893, 12.1175033242))
            Line((-3.0685685893, 12.1175033242), (-3.5595395635, 14.0563038561))
        make_face()
        with BuildLine():
            ThreePointArc((-3.0685685893, 12.1175033242), (-3.551197791, 11.9849486544), (-4.0281336742, 11.8331795855))
            Line((-4.0281336742, 11.8331795855), (-2.0893331423, 12.3241505598))
            ThreePointArc((-2.0893331423, 12.3241505598), (-2.5810198252, 12.2306310819), (-3.0685685893, 12.1175033242))
        make_face()
        with BuildLine():
            ThreePointArc((0.0323488495, 12.499958142), (0.5327223671, 12.488643116), (1.0322418184, 12.4573061626))
            Line((1.0322418184, 12.4573061626), (1.1974005093, 14.4504751486))
            Line((1.1974005093, 14.4504751486), (0.0323488495, 12.499958142))
        make_face()
        with BuildLine():
            Line((-3.5595395635, 14.0563038561), (-3.0685685893, 12.1175033242))
            ThreePointArc((-3.0685685893, 12.1175033242), (-2.5810198252, 12.2306310819), (-2.0893331423, 12.3241505598))
            Line((-2.0893331423, 12.3241505598), (-3.5595395635, 14.0563038561))
        make_face()
        with BuildLine():
            Line((-2.0255178355, 12.3347994511), (-0.0323488495, 12.499958142))
            ThreePointArc((-0.0323488495, 12.499958142), (-0.5327223671, 12.488643116), (-1.0322418184, 12.4573061626))
            ThreePointArc((-1.0322418184, 12.4573061626), (-1.5301063685, 12.4059975214), (-2.0255178355, 12.3347994511))
        make_face()
        with BuildLine():
            ThreePointArc((-1.0322418184, 12.4573061626), (-0.5327223671, 12.488643116), (-0.0323488495, 12.499958142))
            Line((-0.0323488495, 12.499958142), (-1.1974005093, 14.4504751486))
            Line((-1.1974005093, 14.4504751486), (-1.0322418184, 12.4573061626))
        make_face()
        with BuildLine():
            Line((-1.1974005093, 14.4504751486), (-2.0255178355, 12.3347994511))
            ThreePointArc((-2.0255178355, 12.3347994511), (-1.5301063685, 12.4059975214), (-1.0322418184, 12.4573061626))
            Line((-1.0322418184, 12.4573061626), (-1.1974005093, 14.4504751486))
        make_face()
        Circle(F0_R)
    extrude(amount=F1_DEPTH)

    # F3 (on face) → F4 (cut, symmetric)
    with BuildSketch(Plane.XZ.offset(3)):
        Circle(F3_R)
    extrude(amount=F4_DEPTH, both=True, mode=Mode.SUBTRACT)

    # F5 (on face) → F6 (cut, symmetric)
    with BuildSketch(Plane.XZ.offset(3)):
        Polygon((39.3883599903, -86.3104796004), (11.1765899037, -108.0623716928), (26.385564357, -126.6003996134), (60.5728030205, -109.7657829523), align=None)
    extrude(amount=F6_DEPTH, both=True, mode=Mode.SUBTRACT)

    # F7
    f7_edges = [f1.edges().sort_by_distance(p)[0] for p in [
        (14.732828, -1.5, -105.320434),
    ]]
    fillet(f7_edges, radius=F7_R)

    # F8
    f8_edges = [f1.edges().sort_by_distance(p)[0] for p in [
        (34.531278, -1.5, -90.055396),
    ]]
    fillet(f8_edges, radius=F8_R)


solid = f1.part
